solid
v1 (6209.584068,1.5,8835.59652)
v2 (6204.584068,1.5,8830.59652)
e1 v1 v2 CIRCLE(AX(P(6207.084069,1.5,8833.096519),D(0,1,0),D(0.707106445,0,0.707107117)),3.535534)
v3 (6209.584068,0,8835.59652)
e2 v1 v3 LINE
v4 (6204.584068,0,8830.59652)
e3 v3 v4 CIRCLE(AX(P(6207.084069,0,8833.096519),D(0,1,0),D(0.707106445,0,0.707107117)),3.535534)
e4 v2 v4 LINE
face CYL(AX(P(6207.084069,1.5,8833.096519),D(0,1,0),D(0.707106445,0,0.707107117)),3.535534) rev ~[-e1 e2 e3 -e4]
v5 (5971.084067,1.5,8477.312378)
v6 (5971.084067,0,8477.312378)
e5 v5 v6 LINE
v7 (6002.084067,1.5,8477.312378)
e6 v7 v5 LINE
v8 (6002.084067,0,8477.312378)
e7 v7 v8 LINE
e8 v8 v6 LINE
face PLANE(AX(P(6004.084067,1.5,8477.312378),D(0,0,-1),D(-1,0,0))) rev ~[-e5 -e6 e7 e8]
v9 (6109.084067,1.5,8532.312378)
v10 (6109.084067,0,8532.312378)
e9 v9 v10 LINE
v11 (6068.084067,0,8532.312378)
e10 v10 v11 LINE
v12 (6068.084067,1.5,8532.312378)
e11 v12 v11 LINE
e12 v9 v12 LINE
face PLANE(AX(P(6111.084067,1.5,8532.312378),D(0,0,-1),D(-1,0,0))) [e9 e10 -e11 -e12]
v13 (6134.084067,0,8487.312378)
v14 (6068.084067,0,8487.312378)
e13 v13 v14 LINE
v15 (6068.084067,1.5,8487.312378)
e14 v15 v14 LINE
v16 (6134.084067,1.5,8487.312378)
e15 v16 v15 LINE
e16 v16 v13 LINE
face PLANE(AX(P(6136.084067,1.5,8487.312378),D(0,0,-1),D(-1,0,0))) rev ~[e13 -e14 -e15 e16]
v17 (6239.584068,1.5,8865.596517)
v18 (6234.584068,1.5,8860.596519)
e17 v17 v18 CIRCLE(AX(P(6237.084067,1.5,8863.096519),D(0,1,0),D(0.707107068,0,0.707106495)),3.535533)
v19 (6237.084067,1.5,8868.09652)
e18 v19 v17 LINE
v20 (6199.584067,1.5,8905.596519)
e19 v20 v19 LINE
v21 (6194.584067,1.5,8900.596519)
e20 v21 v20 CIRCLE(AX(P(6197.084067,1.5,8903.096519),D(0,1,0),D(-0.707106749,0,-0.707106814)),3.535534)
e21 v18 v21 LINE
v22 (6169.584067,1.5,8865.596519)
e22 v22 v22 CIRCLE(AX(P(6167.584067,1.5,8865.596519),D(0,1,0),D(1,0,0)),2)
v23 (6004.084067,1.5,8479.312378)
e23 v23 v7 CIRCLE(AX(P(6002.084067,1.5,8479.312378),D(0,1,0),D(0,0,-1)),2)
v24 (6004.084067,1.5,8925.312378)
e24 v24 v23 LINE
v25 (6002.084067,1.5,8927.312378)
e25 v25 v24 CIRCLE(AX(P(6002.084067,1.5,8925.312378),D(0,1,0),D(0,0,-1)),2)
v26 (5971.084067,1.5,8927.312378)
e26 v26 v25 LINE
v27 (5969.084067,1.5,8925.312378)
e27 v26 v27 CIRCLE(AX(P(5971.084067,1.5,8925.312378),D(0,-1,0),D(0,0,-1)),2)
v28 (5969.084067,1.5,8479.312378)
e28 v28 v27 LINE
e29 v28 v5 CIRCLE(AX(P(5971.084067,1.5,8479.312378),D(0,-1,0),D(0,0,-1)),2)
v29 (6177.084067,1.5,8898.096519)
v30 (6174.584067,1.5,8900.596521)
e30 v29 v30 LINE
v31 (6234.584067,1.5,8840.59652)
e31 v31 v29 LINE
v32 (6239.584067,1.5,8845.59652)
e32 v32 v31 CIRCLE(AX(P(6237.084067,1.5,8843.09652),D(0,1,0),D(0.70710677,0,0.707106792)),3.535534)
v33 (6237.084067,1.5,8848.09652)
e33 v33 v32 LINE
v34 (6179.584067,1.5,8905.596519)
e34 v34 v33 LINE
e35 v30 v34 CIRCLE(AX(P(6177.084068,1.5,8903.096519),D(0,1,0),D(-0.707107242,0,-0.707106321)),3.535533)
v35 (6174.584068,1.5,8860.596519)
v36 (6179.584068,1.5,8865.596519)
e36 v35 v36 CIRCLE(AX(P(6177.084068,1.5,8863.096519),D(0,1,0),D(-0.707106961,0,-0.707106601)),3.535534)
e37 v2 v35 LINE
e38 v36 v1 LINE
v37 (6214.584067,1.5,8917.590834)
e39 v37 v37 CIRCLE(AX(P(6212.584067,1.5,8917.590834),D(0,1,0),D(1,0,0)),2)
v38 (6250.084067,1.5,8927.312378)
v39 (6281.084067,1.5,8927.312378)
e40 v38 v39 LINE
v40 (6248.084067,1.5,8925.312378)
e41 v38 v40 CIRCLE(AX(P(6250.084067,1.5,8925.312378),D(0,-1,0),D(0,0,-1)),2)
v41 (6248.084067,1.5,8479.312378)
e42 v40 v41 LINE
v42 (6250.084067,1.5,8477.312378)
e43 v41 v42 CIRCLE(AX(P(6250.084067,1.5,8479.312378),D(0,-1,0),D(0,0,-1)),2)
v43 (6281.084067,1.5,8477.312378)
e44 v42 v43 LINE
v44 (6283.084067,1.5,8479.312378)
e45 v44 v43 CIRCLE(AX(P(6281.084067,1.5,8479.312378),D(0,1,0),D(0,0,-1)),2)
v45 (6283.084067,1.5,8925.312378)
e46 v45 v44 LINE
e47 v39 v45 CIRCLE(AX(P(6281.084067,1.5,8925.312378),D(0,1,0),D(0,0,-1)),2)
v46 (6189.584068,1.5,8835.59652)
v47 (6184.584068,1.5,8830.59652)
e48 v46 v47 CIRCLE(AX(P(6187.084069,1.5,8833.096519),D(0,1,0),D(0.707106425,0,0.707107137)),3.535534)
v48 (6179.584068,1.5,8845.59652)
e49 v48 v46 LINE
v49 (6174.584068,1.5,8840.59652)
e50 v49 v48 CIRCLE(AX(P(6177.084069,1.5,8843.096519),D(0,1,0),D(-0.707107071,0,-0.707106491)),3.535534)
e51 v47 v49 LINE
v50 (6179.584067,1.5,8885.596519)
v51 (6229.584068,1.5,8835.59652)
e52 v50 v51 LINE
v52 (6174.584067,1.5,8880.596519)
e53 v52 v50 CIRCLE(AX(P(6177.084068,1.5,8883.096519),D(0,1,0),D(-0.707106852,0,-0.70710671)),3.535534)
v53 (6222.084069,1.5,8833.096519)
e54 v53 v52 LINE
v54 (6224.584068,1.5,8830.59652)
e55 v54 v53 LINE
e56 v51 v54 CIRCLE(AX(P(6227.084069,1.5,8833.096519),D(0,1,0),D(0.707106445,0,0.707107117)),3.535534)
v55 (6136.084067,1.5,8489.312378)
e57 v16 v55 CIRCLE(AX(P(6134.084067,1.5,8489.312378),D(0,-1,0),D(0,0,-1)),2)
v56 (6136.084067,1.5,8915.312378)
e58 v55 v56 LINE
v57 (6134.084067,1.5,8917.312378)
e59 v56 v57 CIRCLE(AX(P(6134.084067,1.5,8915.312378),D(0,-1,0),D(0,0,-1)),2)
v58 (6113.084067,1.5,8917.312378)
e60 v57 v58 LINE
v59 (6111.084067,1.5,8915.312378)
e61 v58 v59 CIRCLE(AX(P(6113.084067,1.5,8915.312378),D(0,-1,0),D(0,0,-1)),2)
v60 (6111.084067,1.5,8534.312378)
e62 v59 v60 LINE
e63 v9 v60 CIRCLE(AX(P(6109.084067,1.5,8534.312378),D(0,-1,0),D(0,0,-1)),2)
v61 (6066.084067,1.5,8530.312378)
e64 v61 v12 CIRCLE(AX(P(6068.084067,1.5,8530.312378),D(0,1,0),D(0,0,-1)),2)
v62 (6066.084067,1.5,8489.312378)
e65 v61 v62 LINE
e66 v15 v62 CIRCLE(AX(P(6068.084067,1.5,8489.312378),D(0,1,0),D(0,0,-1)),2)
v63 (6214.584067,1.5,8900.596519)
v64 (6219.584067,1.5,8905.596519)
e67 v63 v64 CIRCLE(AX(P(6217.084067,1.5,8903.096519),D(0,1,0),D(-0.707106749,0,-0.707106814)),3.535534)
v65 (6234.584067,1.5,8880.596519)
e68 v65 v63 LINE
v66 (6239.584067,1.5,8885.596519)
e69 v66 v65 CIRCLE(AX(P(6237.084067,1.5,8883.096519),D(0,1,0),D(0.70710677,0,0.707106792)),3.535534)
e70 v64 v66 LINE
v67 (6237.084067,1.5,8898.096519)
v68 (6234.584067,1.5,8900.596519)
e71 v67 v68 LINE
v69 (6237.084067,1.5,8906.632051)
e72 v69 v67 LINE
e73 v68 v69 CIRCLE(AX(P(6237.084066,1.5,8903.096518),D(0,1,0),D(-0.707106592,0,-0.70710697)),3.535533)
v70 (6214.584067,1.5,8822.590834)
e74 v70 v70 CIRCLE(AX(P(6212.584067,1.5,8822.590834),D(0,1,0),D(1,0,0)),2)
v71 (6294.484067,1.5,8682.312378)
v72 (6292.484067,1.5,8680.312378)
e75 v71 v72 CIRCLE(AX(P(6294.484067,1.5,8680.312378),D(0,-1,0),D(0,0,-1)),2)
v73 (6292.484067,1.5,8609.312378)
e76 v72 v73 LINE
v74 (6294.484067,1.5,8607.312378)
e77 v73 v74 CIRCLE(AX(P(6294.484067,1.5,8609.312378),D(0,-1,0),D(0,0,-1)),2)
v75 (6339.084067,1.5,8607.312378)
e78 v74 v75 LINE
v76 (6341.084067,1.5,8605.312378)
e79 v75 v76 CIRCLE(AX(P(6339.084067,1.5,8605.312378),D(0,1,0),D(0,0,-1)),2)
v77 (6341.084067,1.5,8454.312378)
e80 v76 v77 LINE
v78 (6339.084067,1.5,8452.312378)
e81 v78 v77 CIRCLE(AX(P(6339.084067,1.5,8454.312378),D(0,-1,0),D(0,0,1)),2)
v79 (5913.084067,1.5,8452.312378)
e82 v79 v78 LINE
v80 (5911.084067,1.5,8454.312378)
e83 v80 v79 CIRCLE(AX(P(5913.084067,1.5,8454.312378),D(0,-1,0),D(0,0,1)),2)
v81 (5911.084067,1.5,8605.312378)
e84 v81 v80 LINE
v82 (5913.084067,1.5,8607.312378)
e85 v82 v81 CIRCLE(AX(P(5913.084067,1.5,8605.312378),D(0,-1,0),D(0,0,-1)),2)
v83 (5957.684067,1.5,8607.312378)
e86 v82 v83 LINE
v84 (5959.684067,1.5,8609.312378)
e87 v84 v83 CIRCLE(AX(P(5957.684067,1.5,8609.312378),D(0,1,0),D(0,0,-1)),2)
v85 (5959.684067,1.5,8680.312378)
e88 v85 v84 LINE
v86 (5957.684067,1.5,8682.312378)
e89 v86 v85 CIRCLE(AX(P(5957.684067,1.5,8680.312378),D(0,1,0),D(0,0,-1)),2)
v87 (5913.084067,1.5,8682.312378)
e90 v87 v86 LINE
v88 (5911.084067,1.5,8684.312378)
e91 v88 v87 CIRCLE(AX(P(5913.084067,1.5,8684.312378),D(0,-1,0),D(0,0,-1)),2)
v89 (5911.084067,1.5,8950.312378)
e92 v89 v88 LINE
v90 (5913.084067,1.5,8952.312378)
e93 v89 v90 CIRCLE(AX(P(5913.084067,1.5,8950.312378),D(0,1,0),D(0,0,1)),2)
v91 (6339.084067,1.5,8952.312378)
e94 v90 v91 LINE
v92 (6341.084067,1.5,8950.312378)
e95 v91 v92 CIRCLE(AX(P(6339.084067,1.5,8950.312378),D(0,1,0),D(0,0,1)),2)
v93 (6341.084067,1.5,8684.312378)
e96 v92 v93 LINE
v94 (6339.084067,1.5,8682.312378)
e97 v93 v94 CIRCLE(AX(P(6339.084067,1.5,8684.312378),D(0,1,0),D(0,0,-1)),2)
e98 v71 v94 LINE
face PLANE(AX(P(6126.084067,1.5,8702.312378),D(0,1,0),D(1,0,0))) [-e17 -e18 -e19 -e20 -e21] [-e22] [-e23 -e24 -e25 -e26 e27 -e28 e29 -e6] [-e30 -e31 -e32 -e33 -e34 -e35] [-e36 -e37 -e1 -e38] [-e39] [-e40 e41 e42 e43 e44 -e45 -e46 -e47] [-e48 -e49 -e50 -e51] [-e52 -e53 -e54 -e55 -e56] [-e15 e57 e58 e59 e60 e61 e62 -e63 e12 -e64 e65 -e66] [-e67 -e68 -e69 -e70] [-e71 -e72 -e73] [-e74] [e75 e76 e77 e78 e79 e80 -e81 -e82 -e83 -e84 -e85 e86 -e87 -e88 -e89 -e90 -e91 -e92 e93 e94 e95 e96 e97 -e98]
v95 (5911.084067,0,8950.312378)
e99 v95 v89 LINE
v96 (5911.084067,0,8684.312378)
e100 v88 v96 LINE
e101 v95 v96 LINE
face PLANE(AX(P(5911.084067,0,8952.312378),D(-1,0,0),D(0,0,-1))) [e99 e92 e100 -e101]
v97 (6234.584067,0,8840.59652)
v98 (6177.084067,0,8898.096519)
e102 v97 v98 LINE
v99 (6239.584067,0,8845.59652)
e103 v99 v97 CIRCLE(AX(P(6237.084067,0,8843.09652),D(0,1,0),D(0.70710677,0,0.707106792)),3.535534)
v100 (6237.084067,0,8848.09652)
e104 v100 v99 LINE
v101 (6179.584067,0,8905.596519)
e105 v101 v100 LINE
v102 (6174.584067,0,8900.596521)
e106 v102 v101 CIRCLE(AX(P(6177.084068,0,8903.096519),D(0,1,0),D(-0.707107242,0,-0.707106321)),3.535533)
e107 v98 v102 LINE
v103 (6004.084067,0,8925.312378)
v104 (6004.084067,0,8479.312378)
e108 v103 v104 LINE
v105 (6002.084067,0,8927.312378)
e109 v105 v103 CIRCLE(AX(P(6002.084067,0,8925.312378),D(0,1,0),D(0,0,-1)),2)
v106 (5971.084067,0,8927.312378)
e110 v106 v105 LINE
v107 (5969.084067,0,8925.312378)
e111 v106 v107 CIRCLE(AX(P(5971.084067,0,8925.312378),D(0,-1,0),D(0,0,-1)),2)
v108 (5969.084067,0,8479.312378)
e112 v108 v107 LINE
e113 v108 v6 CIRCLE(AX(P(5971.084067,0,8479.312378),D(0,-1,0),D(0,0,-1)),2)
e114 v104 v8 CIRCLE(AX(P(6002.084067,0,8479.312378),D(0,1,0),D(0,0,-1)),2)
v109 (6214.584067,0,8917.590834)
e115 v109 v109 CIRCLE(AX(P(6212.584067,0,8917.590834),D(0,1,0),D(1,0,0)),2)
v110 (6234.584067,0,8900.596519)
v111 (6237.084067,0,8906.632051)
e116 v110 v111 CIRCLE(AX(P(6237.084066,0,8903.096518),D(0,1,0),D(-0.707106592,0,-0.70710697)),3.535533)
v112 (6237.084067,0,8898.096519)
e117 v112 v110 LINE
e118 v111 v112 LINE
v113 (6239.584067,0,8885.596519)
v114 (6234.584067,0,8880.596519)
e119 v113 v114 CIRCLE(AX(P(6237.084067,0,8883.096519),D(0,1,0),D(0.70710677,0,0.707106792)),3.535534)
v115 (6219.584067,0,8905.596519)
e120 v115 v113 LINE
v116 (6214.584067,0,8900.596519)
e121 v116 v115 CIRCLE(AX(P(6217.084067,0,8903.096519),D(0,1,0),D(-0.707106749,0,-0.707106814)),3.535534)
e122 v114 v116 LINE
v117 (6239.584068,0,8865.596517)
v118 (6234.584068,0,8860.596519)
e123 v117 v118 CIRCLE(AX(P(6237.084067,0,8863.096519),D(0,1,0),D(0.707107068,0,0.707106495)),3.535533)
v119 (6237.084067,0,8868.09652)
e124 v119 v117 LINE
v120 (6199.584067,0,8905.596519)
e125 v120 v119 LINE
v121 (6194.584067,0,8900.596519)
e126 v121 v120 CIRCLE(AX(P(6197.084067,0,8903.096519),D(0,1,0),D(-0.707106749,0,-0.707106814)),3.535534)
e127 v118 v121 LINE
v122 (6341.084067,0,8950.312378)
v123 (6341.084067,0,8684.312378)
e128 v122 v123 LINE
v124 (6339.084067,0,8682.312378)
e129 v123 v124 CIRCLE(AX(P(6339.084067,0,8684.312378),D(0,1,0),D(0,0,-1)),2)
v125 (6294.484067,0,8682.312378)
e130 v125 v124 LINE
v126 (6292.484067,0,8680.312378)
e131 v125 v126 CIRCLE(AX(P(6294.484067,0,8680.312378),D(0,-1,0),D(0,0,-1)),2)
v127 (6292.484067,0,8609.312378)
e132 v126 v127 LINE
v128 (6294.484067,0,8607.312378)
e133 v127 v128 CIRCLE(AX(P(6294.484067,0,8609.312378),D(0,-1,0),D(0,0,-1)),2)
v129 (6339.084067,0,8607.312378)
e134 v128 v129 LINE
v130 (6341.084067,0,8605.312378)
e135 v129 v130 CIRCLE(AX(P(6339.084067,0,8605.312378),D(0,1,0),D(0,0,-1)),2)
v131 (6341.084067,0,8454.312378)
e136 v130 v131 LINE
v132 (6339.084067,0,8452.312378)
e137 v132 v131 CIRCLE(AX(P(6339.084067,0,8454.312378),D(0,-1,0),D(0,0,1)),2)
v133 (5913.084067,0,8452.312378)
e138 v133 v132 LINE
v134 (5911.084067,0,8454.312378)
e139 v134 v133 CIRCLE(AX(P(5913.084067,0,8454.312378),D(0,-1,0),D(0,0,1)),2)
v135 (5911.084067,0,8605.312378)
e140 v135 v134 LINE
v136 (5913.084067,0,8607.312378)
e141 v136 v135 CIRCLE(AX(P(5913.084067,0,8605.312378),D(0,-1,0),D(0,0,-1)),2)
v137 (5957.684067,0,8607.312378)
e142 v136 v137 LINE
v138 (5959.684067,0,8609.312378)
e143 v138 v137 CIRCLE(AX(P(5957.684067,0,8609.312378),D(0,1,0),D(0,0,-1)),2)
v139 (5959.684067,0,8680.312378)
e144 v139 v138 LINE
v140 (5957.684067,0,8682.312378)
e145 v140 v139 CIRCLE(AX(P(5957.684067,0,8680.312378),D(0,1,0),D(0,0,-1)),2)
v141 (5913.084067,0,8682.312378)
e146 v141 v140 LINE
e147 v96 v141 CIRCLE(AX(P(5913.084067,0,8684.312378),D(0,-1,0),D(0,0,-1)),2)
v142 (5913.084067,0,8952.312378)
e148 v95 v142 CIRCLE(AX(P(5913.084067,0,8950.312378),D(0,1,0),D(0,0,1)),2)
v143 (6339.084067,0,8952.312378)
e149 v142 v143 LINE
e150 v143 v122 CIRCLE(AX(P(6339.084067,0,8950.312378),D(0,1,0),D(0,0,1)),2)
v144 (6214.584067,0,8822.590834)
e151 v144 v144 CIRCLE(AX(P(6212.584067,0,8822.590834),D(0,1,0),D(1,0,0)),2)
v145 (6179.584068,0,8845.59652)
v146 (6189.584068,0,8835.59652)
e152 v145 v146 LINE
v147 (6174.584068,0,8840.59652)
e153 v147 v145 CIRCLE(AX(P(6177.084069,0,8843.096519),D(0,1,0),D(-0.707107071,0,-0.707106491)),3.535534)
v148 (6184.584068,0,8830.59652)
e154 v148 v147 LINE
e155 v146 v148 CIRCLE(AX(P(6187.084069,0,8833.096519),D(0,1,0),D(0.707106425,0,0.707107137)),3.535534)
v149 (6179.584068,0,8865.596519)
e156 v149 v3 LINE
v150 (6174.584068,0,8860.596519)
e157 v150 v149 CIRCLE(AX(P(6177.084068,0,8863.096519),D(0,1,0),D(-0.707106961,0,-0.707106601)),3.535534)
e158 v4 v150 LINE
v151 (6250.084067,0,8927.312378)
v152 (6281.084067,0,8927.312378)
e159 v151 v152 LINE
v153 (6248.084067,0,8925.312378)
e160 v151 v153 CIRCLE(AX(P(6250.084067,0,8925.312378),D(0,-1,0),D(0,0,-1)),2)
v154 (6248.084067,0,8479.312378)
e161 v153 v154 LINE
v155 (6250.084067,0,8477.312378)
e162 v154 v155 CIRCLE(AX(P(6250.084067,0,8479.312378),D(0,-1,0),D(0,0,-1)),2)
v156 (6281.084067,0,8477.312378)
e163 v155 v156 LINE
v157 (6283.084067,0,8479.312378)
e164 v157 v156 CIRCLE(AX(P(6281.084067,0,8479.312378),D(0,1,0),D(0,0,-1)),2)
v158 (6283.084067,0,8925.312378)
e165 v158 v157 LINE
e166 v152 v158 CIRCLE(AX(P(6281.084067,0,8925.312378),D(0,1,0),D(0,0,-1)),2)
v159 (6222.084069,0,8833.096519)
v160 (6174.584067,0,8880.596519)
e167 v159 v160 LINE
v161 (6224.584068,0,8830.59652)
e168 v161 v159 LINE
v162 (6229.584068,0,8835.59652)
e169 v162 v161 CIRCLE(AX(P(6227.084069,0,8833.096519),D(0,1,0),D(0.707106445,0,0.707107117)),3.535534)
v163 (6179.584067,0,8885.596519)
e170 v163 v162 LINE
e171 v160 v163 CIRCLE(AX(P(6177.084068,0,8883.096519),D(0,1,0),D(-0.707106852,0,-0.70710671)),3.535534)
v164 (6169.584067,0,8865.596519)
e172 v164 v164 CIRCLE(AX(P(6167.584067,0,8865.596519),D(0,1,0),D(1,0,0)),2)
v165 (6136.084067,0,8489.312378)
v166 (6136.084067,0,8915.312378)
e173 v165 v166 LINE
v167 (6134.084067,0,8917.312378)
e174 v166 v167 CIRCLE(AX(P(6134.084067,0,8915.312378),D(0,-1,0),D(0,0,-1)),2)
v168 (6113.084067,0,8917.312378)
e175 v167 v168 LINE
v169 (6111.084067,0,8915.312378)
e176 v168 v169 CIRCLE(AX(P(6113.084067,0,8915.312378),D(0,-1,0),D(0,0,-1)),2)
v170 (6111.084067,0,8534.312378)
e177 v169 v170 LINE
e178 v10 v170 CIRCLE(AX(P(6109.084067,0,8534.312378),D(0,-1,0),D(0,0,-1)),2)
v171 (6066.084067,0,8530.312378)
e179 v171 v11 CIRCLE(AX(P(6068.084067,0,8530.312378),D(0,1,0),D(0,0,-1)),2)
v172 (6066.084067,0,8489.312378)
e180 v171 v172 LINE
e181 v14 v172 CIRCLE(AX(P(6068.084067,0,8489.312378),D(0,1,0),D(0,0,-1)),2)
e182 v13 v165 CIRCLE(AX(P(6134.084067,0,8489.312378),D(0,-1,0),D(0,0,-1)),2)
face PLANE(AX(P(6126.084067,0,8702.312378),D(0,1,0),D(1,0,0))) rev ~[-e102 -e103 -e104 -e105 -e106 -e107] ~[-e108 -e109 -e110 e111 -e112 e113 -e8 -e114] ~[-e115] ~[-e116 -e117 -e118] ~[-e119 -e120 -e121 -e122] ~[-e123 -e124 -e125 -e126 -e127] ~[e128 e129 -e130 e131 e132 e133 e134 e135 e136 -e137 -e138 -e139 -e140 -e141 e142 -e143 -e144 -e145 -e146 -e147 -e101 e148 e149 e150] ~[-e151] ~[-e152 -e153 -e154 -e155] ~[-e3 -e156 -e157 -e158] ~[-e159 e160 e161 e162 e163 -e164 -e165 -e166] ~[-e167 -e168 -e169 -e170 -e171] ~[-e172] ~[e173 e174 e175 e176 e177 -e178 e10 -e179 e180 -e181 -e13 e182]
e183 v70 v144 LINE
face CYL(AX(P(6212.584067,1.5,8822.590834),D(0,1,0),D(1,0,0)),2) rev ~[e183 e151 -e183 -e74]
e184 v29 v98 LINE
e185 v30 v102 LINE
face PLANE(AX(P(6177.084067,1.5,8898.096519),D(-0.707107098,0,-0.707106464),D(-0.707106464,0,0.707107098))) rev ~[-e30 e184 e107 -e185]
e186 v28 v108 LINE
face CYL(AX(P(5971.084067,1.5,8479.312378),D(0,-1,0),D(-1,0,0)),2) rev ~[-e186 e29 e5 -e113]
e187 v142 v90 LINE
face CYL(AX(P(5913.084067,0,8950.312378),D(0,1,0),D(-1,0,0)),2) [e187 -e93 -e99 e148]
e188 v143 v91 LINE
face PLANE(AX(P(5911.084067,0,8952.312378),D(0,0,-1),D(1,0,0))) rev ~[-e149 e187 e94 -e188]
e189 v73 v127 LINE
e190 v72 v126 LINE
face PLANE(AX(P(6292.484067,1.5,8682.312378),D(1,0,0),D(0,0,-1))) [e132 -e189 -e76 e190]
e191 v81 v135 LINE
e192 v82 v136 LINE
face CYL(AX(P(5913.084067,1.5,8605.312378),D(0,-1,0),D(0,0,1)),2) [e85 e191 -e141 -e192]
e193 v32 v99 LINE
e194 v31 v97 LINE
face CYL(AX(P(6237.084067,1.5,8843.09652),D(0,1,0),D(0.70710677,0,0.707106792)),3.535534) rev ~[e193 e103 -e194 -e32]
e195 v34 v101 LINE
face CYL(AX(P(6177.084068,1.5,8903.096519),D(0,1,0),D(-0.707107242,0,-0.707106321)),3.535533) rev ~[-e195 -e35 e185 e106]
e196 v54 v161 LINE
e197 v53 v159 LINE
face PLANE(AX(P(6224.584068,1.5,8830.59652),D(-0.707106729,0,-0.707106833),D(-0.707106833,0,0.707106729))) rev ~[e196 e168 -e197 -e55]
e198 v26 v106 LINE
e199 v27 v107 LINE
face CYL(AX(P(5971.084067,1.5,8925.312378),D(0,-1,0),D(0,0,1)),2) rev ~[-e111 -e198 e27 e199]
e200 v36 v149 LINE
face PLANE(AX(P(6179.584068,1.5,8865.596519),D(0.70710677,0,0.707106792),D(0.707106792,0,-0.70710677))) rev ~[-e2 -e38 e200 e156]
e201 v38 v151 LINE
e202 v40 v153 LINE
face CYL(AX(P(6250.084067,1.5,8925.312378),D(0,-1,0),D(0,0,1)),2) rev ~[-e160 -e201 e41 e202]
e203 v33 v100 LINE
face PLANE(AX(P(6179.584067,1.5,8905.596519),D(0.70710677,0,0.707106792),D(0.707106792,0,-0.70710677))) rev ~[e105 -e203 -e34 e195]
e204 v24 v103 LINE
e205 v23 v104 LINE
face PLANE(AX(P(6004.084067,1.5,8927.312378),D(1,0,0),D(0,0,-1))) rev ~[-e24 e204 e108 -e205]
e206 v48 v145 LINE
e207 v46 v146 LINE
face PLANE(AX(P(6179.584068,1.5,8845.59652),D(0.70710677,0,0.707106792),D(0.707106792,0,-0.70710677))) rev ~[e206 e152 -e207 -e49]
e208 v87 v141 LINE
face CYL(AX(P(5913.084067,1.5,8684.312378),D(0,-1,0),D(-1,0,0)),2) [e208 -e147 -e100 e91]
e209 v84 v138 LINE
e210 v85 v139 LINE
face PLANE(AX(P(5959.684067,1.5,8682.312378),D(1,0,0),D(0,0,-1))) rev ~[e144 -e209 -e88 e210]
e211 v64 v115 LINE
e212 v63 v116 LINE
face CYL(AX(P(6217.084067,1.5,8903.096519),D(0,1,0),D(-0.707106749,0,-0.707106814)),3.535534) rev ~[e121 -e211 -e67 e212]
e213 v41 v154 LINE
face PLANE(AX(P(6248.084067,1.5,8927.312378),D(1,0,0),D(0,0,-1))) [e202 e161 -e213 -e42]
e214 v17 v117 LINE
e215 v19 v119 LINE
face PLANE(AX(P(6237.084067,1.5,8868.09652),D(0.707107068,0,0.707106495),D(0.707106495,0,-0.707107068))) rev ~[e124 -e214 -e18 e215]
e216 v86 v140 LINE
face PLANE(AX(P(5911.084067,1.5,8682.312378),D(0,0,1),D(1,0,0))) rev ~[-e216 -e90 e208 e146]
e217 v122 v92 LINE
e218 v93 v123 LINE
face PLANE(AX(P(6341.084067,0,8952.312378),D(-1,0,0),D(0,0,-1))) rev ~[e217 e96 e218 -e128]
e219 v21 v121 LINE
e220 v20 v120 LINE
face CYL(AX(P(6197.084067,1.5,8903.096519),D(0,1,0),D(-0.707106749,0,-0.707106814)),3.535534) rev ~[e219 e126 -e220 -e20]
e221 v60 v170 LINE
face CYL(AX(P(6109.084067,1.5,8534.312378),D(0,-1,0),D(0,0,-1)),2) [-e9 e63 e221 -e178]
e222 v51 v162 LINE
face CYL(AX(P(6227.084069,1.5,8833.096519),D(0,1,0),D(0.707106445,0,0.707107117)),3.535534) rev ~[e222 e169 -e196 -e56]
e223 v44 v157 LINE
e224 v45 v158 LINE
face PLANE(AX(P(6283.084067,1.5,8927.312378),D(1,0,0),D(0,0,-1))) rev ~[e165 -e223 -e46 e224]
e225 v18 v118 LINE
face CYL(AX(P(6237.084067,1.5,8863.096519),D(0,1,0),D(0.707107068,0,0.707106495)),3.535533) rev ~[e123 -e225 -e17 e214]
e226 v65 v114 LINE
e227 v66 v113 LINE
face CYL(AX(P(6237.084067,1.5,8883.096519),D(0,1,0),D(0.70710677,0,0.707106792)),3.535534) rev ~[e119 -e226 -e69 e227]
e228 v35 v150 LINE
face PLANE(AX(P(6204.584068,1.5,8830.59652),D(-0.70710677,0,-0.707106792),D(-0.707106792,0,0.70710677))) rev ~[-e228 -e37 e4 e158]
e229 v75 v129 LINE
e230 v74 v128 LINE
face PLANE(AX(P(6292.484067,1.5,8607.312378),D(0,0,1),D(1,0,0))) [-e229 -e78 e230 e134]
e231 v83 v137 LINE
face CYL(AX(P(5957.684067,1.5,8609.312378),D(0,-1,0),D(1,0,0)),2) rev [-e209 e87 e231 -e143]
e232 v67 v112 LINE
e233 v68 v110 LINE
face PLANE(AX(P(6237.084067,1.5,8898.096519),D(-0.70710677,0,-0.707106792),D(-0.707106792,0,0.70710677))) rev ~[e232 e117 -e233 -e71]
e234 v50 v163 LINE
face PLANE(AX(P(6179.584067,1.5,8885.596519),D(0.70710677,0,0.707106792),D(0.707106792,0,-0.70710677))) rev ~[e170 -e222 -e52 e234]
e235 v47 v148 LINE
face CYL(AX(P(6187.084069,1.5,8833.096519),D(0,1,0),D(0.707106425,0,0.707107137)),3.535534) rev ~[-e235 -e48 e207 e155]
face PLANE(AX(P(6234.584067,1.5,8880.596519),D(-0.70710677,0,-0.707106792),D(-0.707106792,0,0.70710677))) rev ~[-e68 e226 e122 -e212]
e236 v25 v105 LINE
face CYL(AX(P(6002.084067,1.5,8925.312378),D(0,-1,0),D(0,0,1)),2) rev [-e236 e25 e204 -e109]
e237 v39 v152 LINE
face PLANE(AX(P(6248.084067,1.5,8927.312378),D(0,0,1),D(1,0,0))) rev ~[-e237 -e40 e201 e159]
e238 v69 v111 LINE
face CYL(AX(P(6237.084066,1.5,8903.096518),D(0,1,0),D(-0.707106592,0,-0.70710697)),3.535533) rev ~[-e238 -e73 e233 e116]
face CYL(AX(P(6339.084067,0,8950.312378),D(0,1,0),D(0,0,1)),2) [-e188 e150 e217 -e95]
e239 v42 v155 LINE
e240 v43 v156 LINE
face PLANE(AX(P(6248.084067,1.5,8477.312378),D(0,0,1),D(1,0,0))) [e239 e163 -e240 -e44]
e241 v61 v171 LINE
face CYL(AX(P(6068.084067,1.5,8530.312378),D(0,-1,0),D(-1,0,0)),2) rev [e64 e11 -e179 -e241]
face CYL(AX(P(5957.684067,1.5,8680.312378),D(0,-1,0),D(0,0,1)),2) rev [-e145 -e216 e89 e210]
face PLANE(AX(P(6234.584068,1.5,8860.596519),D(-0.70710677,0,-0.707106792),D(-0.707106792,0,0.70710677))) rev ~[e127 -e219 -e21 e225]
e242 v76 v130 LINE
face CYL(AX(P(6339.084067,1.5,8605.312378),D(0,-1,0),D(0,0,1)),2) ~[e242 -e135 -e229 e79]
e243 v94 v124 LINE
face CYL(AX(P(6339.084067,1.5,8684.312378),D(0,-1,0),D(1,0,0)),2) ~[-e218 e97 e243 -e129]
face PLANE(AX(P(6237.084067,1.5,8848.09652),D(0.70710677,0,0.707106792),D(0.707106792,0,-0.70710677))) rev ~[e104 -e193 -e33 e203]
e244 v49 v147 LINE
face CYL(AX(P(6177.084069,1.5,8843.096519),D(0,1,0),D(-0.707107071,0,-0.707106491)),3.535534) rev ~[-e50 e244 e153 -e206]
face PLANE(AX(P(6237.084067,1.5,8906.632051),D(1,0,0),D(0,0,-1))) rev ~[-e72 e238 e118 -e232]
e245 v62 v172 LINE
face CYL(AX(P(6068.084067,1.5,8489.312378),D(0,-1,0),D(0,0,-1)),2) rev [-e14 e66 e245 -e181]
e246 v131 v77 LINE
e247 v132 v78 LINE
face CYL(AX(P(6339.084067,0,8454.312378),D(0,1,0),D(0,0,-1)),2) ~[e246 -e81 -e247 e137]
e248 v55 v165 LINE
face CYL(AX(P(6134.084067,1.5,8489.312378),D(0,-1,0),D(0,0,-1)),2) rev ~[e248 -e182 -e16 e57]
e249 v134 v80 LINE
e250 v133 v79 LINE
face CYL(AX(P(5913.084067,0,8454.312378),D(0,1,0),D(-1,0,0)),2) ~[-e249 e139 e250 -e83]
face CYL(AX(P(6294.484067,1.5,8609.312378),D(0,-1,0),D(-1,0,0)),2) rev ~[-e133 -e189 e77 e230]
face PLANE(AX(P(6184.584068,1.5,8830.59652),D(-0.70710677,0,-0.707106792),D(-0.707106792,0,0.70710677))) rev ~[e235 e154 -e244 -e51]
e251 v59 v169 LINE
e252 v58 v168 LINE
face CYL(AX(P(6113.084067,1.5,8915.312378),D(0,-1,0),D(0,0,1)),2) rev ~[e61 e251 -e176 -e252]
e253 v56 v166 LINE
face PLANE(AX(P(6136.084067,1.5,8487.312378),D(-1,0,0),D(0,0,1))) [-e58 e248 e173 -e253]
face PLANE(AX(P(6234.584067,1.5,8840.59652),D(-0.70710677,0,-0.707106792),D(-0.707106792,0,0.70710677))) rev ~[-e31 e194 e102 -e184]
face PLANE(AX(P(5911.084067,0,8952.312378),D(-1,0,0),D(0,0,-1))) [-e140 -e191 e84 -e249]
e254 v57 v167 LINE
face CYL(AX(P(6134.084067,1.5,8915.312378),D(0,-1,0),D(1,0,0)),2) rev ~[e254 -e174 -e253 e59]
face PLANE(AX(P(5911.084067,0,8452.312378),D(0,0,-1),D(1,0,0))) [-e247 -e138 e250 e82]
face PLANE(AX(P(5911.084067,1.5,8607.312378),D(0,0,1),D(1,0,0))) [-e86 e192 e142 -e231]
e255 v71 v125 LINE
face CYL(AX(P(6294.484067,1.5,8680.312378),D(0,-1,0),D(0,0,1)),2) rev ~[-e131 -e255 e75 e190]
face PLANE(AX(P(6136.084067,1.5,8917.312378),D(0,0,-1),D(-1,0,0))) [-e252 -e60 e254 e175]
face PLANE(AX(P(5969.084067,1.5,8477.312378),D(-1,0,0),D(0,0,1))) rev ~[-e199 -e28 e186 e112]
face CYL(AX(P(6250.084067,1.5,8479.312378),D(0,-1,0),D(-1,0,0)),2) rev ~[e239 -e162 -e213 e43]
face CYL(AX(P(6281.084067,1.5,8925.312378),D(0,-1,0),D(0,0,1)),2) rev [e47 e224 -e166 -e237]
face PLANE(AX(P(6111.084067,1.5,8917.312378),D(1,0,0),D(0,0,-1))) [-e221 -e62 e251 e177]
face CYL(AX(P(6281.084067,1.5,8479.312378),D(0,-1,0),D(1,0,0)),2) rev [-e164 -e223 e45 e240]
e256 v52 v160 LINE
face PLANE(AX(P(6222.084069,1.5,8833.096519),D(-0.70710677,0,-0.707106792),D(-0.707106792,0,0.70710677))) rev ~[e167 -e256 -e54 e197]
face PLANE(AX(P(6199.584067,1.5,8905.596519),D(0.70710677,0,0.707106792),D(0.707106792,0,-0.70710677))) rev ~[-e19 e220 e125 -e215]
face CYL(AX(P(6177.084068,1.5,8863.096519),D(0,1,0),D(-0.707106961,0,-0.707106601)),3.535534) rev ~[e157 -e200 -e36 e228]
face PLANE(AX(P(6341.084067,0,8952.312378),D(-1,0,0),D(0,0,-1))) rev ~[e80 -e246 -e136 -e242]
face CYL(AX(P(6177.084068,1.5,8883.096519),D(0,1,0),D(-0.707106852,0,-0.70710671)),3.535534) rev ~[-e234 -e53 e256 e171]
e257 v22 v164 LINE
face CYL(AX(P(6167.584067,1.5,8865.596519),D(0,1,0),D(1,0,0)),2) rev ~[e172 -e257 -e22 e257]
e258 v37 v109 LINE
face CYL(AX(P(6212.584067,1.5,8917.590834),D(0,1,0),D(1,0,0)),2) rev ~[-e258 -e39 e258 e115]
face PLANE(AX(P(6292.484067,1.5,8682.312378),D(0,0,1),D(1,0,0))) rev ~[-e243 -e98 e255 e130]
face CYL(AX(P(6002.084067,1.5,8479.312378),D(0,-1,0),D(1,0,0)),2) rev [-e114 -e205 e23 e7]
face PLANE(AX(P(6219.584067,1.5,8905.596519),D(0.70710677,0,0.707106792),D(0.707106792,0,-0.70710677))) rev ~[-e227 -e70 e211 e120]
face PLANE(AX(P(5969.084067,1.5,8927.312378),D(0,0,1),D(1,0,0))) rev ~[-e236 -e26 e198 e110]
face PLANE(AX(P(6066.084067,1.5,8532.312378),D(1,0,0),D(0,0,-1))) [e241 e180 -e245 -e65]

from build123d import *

# Parameters (mm, degrees)
SKETCH1_W           = 430
SKETCH1_H           = 500
BOSS_EXTRUDE1_DEPTH = 1.5
SKETCH2_W           = 48.6
SKETCH2_H           = 75
CUT_EXTRUDE1_DEPTH  = 10
SKETCH3_W           = 35
SKETCH3_H           = 450
CUT_EXTRUDE2_DEPTH  = 10
CUT_EXTRUDE3_DEPTH  = 10
FILLET2_R           = 2
FILLET3_R           = 2
SKETCH6_R           = 2
CUT_EXTRUDE4_DEPTH  = 10


with BuildPart() as part:
    # Sketch1 → Boss-Extrude1 (new body)
    with BuildSketch(Plane(origin=(0, 0, 0), x_dir=(1, 0, 0), z_dir=(0, 1, 0))):
        with Locations((6126.084066999, -8702.312377786)):
            Rectangle(SKETCH1_W, SKETCH1_H)
    extrude(amount=BOSS_EXTRUDE1_DEPTH)

    # Sketch2 → Cut-Extrude1 (cut)
    with BuildSketch(Plane(origin=(0, 1.5, 0), x_dir=(1, 0, 0), z_dir=(0, 1, 0))):
        with Locations((5935.384066999, -8644.812377786)):
            Rectangle(SKETCH2_W, SKETCH2_H)
        with Locations((6316.784066999, -8644.812377786)):
            Rectangle(SKETCH2_W, SKETCH2_H)
    extrude(amount=-CUT_EXTRUDE1_DEPTH, mode=Mode.SUBTRACT)

    # Sketch3 → Cut-Extrude2 (cut)
    with BuildSketch(Plane(origin=(0, 1.5, 0), x_dir=(1, 0, 0), z_dir=(0, 1, 0))):
        Polygon((5969.084066999, -8541.651929061), (5969.084066999, -8927.312377786), (6004.084066999, -8927.312377786), (6004.084066999, -8477.312377786), (5969.084066999, -8477.312377786), align=None)
        with Locations((6265.584066999, -8702.312377786)):
            Rectangle(SKETCH3_W, SKETCH3_H)
        Polygon((6102.084066999, -8487.312377786), (6136.084066999, -8487.312377786), (6136.084066999, -8917.312377786), (6111.084066999, -8917.312377786), (6111.084066999, -8532.312377786), (6066.084066999, -8532.312377786), (6066.084066999, -8487.312377786), align=None)
    extrude(amount=-CUT_EXTRUDE2_DEPTH, mode=Mode.SUBTRACT)

    # Sketch4 → Cut-Extrude3 (cut)
    with BuildSketch(Plane(origin=(0, 1.5, 0), x_dir=(1, 0, 0), z_dir=(0, 1, 0))):
        with BuildLine():
            Line((6234.584067167, -8840.596520357), (6177.084066999, -8898.096518708))
            Line((6177.084066999, -8898.096518708), (6174.584066999, -8900.596520951))
            ThreePointArc((6174.584066999, -8900.596520951), (6174.584069168, -8905.596518633), (6179.584066849, -8905.596518637))
            Line((6179.584066849, -8905.596518637), (6237.084067092, -8848.09652021))
            Line((6237.084067092, -8848.09652021), (6239.584067017, -8845.596520364))
            ThreePointArc((6239.584067017, -8845.596520364), (6239.584067096, -8840.596520436), (6234.584067167, -8840.596520357))
        make_face()
        with BuildLine():
            ThreePointArc((6174.584067387, -8880.596519018), (6174.584067598, -8885.596518612), (6179.584067193, -8885.596518982))
            Line((6179.584067193, -8885.596518982), (6229.584067988, -8835.596519766))
            ThreePointArc((6229.584067988, -8835.596519766), (6229.584069287, -8830.596518949), (6224.584068469, -8830.596519802))
            Line((6224.584068469, -8830.596519802), (6222.084069197, -8833.096518708))
            Line((6222.084069197, -8833.096518708), (6174.584067387, -8880.596519018))
        make_face()
        with BuildLine():
            ThreePointArc((6174.584067774, -8860.596519406), (6174.584068372, -8865.596518614), (6179.58406758, -8865.59651937))
            Line((6179.58406758, -8865.59651937), (6209.58406806, -8835.596519838))
            ThreePointArc((6209.58406806, -8835.596519838), (6209.584069287, -8830.596518805), (6204.584068253, -8830.596519874))
            Line((6204.584068253, -8830.596519874), (6174.584067774, -8860.596519406))
        make_face()
        with BuildLine():
            Line((6219.584066911, -8905.596518637), (6239.584067017, -8885.596519163))
            ThreePointArc((6239.584067017, -8885.596519163), (6239.584067096, -8880.596519234), (6234.584067167, -8880.596519155))
            Line((6234.584067167, -8880.596519155), (6214.584067061, -8900.596518629))
            ThreePointArc((6214.584067061, -8900.596518629), (6214.584066907, -8905.596518633), (6219.584066911, -8905.596518637))
        make_face()
        with BuildLine():
            ThreePointArc((6174.584068161, -8840.596519795), (6174.584069146, -8845.596518616), (6179.584067967, -8845.596519759))
            Line((6179.584067967, -8845.596519759), (6189.584068132, -8835.59651991))
            ThreePointArc((6189.584068132, -8835.59651991), (6189.584069431, -8830.596518805), (6184.584068325, -8830.596519946))
            Line((6184.584068325, -8830.596519946), (6174.584068161, -8840.596519795))
        make_face()
        with BuildLine():
            Line((6234.584067693, -8860.59651923), (6194.58406703, -8900.596518629))
            ThreePointArc((6194.58406703, -8900.596518629), (6194.584066876, -8905.596518633), (6199.58406688, -8905.596518637))
            Line((6199.58406688, -8905.596518637), (6237.084067092, -8868.096519609))
            Line((6237.084067092, -8868.096519609), (6239.584067543, -8865.596517133))
            ThreePointArc((6239.584067543, -8865.596517133), (6239.584066044, -8860.596518783), (6234.584067693, -8860.59651923))
        make_face()
        with BuildLine():
            Line((6237.084067092, -8898.096518708), (6234.584067092, -8900.596518629))
            ThreePointArc((6234.584067092, -8900.596518629), (6233.817659407, -8904.449508447), (6237.084067092, -8906.632051027))
            Line((6237.084067092, -8906.632051027), (6237.084067092, -8898.096518708))
        make_face()
    extrude(amount=-CUT_EXTRUDE3_DEPTH, mode=Mode.SUBTRACT)

    # Fillet2
    fillet2_edges = [part.edges().sort_by_distance(p)[0] for p in [
        (5959.684066999, 0.75, 8607.312377786),
        (5959.684066999, 0.75, 8682.312377786),
        (5911.084066999, 0.75, 8682.312377786),
        (5911.084066999, 0.75, 8607.312377786),
        (6341.084066999, 0.75, 8607.312377786),
        (6341.084066999, 0.75, 8682.312377786),
        (6292.484066999, 0.75, 8682.312377786),
        (6292.484066999, 0.75, 8607.312377786),
        (5911.084066999, 0.75, 8452.312377786),
        (6341.084066999, 0.75, 8452.312377786),
        (6341.084066999, 0.75, 8952.312377786),
        (5911.084066999, 0.75, 8952.312377786),
    ]]
    fillet(fillet2_edges, radius=FILLET2_R)

    # Fillet3
    fillet3_edges = [part.edges().sort_by_distance(p)[0] for p in [
        (6283.084066999, 0.75, 8477.312377786),
        (6283.084066999, 0.75, 8927.312377786),
        (6248.084066999, 0.75, 8927.312377786),
        (6248.084066999, 0.75, 8477.312377786),
        (5969.084066999, 0.75, 8477.312377786),
        (6004.084066999, 0.75, 8477.312377786),
        (6004.084066999, 0.75, 8927.312377786),
        (5969.084066999, 0.75, 8927.312377786),
        (6066.084066999, 0.75, 8532.312377786),
        (6066.084066999, 0.75, 8487.312377786),
        (6136.084066999, 0.75, 8487.312377786),
        (6136.084066999, 0.75, 8917.312377786),
        (6111.084066999, 0.75, 8917.312377786),
        (6111.084066999, 0.75, 8532.312377786),
    ]]
    fillet(fillet3_edges, radius=FILLET3_R)

    # Sketch6 → Cut-Extrude4 (cut)
    with BuildSketch(Plane(origin=(0, 1.5, 0), x_dir=(1, 0, 0), z_dir=(0, 1, 0))):
        with Locations((6212.584066999, -8822.590833806)):
            Circle(SKETCH6_R)
        with Locations((6212.584066999, -8917.590833806)):
            Circle(SKETCH6_R)
        with Locations((6167.584066999, -8865.596518708)):
            Circle(SKETCH6_R)
    extrude(amount=-CUT_EXTRUDE4_DEPTH, mode=Mode.SUBTRACT)


solid = part.part
